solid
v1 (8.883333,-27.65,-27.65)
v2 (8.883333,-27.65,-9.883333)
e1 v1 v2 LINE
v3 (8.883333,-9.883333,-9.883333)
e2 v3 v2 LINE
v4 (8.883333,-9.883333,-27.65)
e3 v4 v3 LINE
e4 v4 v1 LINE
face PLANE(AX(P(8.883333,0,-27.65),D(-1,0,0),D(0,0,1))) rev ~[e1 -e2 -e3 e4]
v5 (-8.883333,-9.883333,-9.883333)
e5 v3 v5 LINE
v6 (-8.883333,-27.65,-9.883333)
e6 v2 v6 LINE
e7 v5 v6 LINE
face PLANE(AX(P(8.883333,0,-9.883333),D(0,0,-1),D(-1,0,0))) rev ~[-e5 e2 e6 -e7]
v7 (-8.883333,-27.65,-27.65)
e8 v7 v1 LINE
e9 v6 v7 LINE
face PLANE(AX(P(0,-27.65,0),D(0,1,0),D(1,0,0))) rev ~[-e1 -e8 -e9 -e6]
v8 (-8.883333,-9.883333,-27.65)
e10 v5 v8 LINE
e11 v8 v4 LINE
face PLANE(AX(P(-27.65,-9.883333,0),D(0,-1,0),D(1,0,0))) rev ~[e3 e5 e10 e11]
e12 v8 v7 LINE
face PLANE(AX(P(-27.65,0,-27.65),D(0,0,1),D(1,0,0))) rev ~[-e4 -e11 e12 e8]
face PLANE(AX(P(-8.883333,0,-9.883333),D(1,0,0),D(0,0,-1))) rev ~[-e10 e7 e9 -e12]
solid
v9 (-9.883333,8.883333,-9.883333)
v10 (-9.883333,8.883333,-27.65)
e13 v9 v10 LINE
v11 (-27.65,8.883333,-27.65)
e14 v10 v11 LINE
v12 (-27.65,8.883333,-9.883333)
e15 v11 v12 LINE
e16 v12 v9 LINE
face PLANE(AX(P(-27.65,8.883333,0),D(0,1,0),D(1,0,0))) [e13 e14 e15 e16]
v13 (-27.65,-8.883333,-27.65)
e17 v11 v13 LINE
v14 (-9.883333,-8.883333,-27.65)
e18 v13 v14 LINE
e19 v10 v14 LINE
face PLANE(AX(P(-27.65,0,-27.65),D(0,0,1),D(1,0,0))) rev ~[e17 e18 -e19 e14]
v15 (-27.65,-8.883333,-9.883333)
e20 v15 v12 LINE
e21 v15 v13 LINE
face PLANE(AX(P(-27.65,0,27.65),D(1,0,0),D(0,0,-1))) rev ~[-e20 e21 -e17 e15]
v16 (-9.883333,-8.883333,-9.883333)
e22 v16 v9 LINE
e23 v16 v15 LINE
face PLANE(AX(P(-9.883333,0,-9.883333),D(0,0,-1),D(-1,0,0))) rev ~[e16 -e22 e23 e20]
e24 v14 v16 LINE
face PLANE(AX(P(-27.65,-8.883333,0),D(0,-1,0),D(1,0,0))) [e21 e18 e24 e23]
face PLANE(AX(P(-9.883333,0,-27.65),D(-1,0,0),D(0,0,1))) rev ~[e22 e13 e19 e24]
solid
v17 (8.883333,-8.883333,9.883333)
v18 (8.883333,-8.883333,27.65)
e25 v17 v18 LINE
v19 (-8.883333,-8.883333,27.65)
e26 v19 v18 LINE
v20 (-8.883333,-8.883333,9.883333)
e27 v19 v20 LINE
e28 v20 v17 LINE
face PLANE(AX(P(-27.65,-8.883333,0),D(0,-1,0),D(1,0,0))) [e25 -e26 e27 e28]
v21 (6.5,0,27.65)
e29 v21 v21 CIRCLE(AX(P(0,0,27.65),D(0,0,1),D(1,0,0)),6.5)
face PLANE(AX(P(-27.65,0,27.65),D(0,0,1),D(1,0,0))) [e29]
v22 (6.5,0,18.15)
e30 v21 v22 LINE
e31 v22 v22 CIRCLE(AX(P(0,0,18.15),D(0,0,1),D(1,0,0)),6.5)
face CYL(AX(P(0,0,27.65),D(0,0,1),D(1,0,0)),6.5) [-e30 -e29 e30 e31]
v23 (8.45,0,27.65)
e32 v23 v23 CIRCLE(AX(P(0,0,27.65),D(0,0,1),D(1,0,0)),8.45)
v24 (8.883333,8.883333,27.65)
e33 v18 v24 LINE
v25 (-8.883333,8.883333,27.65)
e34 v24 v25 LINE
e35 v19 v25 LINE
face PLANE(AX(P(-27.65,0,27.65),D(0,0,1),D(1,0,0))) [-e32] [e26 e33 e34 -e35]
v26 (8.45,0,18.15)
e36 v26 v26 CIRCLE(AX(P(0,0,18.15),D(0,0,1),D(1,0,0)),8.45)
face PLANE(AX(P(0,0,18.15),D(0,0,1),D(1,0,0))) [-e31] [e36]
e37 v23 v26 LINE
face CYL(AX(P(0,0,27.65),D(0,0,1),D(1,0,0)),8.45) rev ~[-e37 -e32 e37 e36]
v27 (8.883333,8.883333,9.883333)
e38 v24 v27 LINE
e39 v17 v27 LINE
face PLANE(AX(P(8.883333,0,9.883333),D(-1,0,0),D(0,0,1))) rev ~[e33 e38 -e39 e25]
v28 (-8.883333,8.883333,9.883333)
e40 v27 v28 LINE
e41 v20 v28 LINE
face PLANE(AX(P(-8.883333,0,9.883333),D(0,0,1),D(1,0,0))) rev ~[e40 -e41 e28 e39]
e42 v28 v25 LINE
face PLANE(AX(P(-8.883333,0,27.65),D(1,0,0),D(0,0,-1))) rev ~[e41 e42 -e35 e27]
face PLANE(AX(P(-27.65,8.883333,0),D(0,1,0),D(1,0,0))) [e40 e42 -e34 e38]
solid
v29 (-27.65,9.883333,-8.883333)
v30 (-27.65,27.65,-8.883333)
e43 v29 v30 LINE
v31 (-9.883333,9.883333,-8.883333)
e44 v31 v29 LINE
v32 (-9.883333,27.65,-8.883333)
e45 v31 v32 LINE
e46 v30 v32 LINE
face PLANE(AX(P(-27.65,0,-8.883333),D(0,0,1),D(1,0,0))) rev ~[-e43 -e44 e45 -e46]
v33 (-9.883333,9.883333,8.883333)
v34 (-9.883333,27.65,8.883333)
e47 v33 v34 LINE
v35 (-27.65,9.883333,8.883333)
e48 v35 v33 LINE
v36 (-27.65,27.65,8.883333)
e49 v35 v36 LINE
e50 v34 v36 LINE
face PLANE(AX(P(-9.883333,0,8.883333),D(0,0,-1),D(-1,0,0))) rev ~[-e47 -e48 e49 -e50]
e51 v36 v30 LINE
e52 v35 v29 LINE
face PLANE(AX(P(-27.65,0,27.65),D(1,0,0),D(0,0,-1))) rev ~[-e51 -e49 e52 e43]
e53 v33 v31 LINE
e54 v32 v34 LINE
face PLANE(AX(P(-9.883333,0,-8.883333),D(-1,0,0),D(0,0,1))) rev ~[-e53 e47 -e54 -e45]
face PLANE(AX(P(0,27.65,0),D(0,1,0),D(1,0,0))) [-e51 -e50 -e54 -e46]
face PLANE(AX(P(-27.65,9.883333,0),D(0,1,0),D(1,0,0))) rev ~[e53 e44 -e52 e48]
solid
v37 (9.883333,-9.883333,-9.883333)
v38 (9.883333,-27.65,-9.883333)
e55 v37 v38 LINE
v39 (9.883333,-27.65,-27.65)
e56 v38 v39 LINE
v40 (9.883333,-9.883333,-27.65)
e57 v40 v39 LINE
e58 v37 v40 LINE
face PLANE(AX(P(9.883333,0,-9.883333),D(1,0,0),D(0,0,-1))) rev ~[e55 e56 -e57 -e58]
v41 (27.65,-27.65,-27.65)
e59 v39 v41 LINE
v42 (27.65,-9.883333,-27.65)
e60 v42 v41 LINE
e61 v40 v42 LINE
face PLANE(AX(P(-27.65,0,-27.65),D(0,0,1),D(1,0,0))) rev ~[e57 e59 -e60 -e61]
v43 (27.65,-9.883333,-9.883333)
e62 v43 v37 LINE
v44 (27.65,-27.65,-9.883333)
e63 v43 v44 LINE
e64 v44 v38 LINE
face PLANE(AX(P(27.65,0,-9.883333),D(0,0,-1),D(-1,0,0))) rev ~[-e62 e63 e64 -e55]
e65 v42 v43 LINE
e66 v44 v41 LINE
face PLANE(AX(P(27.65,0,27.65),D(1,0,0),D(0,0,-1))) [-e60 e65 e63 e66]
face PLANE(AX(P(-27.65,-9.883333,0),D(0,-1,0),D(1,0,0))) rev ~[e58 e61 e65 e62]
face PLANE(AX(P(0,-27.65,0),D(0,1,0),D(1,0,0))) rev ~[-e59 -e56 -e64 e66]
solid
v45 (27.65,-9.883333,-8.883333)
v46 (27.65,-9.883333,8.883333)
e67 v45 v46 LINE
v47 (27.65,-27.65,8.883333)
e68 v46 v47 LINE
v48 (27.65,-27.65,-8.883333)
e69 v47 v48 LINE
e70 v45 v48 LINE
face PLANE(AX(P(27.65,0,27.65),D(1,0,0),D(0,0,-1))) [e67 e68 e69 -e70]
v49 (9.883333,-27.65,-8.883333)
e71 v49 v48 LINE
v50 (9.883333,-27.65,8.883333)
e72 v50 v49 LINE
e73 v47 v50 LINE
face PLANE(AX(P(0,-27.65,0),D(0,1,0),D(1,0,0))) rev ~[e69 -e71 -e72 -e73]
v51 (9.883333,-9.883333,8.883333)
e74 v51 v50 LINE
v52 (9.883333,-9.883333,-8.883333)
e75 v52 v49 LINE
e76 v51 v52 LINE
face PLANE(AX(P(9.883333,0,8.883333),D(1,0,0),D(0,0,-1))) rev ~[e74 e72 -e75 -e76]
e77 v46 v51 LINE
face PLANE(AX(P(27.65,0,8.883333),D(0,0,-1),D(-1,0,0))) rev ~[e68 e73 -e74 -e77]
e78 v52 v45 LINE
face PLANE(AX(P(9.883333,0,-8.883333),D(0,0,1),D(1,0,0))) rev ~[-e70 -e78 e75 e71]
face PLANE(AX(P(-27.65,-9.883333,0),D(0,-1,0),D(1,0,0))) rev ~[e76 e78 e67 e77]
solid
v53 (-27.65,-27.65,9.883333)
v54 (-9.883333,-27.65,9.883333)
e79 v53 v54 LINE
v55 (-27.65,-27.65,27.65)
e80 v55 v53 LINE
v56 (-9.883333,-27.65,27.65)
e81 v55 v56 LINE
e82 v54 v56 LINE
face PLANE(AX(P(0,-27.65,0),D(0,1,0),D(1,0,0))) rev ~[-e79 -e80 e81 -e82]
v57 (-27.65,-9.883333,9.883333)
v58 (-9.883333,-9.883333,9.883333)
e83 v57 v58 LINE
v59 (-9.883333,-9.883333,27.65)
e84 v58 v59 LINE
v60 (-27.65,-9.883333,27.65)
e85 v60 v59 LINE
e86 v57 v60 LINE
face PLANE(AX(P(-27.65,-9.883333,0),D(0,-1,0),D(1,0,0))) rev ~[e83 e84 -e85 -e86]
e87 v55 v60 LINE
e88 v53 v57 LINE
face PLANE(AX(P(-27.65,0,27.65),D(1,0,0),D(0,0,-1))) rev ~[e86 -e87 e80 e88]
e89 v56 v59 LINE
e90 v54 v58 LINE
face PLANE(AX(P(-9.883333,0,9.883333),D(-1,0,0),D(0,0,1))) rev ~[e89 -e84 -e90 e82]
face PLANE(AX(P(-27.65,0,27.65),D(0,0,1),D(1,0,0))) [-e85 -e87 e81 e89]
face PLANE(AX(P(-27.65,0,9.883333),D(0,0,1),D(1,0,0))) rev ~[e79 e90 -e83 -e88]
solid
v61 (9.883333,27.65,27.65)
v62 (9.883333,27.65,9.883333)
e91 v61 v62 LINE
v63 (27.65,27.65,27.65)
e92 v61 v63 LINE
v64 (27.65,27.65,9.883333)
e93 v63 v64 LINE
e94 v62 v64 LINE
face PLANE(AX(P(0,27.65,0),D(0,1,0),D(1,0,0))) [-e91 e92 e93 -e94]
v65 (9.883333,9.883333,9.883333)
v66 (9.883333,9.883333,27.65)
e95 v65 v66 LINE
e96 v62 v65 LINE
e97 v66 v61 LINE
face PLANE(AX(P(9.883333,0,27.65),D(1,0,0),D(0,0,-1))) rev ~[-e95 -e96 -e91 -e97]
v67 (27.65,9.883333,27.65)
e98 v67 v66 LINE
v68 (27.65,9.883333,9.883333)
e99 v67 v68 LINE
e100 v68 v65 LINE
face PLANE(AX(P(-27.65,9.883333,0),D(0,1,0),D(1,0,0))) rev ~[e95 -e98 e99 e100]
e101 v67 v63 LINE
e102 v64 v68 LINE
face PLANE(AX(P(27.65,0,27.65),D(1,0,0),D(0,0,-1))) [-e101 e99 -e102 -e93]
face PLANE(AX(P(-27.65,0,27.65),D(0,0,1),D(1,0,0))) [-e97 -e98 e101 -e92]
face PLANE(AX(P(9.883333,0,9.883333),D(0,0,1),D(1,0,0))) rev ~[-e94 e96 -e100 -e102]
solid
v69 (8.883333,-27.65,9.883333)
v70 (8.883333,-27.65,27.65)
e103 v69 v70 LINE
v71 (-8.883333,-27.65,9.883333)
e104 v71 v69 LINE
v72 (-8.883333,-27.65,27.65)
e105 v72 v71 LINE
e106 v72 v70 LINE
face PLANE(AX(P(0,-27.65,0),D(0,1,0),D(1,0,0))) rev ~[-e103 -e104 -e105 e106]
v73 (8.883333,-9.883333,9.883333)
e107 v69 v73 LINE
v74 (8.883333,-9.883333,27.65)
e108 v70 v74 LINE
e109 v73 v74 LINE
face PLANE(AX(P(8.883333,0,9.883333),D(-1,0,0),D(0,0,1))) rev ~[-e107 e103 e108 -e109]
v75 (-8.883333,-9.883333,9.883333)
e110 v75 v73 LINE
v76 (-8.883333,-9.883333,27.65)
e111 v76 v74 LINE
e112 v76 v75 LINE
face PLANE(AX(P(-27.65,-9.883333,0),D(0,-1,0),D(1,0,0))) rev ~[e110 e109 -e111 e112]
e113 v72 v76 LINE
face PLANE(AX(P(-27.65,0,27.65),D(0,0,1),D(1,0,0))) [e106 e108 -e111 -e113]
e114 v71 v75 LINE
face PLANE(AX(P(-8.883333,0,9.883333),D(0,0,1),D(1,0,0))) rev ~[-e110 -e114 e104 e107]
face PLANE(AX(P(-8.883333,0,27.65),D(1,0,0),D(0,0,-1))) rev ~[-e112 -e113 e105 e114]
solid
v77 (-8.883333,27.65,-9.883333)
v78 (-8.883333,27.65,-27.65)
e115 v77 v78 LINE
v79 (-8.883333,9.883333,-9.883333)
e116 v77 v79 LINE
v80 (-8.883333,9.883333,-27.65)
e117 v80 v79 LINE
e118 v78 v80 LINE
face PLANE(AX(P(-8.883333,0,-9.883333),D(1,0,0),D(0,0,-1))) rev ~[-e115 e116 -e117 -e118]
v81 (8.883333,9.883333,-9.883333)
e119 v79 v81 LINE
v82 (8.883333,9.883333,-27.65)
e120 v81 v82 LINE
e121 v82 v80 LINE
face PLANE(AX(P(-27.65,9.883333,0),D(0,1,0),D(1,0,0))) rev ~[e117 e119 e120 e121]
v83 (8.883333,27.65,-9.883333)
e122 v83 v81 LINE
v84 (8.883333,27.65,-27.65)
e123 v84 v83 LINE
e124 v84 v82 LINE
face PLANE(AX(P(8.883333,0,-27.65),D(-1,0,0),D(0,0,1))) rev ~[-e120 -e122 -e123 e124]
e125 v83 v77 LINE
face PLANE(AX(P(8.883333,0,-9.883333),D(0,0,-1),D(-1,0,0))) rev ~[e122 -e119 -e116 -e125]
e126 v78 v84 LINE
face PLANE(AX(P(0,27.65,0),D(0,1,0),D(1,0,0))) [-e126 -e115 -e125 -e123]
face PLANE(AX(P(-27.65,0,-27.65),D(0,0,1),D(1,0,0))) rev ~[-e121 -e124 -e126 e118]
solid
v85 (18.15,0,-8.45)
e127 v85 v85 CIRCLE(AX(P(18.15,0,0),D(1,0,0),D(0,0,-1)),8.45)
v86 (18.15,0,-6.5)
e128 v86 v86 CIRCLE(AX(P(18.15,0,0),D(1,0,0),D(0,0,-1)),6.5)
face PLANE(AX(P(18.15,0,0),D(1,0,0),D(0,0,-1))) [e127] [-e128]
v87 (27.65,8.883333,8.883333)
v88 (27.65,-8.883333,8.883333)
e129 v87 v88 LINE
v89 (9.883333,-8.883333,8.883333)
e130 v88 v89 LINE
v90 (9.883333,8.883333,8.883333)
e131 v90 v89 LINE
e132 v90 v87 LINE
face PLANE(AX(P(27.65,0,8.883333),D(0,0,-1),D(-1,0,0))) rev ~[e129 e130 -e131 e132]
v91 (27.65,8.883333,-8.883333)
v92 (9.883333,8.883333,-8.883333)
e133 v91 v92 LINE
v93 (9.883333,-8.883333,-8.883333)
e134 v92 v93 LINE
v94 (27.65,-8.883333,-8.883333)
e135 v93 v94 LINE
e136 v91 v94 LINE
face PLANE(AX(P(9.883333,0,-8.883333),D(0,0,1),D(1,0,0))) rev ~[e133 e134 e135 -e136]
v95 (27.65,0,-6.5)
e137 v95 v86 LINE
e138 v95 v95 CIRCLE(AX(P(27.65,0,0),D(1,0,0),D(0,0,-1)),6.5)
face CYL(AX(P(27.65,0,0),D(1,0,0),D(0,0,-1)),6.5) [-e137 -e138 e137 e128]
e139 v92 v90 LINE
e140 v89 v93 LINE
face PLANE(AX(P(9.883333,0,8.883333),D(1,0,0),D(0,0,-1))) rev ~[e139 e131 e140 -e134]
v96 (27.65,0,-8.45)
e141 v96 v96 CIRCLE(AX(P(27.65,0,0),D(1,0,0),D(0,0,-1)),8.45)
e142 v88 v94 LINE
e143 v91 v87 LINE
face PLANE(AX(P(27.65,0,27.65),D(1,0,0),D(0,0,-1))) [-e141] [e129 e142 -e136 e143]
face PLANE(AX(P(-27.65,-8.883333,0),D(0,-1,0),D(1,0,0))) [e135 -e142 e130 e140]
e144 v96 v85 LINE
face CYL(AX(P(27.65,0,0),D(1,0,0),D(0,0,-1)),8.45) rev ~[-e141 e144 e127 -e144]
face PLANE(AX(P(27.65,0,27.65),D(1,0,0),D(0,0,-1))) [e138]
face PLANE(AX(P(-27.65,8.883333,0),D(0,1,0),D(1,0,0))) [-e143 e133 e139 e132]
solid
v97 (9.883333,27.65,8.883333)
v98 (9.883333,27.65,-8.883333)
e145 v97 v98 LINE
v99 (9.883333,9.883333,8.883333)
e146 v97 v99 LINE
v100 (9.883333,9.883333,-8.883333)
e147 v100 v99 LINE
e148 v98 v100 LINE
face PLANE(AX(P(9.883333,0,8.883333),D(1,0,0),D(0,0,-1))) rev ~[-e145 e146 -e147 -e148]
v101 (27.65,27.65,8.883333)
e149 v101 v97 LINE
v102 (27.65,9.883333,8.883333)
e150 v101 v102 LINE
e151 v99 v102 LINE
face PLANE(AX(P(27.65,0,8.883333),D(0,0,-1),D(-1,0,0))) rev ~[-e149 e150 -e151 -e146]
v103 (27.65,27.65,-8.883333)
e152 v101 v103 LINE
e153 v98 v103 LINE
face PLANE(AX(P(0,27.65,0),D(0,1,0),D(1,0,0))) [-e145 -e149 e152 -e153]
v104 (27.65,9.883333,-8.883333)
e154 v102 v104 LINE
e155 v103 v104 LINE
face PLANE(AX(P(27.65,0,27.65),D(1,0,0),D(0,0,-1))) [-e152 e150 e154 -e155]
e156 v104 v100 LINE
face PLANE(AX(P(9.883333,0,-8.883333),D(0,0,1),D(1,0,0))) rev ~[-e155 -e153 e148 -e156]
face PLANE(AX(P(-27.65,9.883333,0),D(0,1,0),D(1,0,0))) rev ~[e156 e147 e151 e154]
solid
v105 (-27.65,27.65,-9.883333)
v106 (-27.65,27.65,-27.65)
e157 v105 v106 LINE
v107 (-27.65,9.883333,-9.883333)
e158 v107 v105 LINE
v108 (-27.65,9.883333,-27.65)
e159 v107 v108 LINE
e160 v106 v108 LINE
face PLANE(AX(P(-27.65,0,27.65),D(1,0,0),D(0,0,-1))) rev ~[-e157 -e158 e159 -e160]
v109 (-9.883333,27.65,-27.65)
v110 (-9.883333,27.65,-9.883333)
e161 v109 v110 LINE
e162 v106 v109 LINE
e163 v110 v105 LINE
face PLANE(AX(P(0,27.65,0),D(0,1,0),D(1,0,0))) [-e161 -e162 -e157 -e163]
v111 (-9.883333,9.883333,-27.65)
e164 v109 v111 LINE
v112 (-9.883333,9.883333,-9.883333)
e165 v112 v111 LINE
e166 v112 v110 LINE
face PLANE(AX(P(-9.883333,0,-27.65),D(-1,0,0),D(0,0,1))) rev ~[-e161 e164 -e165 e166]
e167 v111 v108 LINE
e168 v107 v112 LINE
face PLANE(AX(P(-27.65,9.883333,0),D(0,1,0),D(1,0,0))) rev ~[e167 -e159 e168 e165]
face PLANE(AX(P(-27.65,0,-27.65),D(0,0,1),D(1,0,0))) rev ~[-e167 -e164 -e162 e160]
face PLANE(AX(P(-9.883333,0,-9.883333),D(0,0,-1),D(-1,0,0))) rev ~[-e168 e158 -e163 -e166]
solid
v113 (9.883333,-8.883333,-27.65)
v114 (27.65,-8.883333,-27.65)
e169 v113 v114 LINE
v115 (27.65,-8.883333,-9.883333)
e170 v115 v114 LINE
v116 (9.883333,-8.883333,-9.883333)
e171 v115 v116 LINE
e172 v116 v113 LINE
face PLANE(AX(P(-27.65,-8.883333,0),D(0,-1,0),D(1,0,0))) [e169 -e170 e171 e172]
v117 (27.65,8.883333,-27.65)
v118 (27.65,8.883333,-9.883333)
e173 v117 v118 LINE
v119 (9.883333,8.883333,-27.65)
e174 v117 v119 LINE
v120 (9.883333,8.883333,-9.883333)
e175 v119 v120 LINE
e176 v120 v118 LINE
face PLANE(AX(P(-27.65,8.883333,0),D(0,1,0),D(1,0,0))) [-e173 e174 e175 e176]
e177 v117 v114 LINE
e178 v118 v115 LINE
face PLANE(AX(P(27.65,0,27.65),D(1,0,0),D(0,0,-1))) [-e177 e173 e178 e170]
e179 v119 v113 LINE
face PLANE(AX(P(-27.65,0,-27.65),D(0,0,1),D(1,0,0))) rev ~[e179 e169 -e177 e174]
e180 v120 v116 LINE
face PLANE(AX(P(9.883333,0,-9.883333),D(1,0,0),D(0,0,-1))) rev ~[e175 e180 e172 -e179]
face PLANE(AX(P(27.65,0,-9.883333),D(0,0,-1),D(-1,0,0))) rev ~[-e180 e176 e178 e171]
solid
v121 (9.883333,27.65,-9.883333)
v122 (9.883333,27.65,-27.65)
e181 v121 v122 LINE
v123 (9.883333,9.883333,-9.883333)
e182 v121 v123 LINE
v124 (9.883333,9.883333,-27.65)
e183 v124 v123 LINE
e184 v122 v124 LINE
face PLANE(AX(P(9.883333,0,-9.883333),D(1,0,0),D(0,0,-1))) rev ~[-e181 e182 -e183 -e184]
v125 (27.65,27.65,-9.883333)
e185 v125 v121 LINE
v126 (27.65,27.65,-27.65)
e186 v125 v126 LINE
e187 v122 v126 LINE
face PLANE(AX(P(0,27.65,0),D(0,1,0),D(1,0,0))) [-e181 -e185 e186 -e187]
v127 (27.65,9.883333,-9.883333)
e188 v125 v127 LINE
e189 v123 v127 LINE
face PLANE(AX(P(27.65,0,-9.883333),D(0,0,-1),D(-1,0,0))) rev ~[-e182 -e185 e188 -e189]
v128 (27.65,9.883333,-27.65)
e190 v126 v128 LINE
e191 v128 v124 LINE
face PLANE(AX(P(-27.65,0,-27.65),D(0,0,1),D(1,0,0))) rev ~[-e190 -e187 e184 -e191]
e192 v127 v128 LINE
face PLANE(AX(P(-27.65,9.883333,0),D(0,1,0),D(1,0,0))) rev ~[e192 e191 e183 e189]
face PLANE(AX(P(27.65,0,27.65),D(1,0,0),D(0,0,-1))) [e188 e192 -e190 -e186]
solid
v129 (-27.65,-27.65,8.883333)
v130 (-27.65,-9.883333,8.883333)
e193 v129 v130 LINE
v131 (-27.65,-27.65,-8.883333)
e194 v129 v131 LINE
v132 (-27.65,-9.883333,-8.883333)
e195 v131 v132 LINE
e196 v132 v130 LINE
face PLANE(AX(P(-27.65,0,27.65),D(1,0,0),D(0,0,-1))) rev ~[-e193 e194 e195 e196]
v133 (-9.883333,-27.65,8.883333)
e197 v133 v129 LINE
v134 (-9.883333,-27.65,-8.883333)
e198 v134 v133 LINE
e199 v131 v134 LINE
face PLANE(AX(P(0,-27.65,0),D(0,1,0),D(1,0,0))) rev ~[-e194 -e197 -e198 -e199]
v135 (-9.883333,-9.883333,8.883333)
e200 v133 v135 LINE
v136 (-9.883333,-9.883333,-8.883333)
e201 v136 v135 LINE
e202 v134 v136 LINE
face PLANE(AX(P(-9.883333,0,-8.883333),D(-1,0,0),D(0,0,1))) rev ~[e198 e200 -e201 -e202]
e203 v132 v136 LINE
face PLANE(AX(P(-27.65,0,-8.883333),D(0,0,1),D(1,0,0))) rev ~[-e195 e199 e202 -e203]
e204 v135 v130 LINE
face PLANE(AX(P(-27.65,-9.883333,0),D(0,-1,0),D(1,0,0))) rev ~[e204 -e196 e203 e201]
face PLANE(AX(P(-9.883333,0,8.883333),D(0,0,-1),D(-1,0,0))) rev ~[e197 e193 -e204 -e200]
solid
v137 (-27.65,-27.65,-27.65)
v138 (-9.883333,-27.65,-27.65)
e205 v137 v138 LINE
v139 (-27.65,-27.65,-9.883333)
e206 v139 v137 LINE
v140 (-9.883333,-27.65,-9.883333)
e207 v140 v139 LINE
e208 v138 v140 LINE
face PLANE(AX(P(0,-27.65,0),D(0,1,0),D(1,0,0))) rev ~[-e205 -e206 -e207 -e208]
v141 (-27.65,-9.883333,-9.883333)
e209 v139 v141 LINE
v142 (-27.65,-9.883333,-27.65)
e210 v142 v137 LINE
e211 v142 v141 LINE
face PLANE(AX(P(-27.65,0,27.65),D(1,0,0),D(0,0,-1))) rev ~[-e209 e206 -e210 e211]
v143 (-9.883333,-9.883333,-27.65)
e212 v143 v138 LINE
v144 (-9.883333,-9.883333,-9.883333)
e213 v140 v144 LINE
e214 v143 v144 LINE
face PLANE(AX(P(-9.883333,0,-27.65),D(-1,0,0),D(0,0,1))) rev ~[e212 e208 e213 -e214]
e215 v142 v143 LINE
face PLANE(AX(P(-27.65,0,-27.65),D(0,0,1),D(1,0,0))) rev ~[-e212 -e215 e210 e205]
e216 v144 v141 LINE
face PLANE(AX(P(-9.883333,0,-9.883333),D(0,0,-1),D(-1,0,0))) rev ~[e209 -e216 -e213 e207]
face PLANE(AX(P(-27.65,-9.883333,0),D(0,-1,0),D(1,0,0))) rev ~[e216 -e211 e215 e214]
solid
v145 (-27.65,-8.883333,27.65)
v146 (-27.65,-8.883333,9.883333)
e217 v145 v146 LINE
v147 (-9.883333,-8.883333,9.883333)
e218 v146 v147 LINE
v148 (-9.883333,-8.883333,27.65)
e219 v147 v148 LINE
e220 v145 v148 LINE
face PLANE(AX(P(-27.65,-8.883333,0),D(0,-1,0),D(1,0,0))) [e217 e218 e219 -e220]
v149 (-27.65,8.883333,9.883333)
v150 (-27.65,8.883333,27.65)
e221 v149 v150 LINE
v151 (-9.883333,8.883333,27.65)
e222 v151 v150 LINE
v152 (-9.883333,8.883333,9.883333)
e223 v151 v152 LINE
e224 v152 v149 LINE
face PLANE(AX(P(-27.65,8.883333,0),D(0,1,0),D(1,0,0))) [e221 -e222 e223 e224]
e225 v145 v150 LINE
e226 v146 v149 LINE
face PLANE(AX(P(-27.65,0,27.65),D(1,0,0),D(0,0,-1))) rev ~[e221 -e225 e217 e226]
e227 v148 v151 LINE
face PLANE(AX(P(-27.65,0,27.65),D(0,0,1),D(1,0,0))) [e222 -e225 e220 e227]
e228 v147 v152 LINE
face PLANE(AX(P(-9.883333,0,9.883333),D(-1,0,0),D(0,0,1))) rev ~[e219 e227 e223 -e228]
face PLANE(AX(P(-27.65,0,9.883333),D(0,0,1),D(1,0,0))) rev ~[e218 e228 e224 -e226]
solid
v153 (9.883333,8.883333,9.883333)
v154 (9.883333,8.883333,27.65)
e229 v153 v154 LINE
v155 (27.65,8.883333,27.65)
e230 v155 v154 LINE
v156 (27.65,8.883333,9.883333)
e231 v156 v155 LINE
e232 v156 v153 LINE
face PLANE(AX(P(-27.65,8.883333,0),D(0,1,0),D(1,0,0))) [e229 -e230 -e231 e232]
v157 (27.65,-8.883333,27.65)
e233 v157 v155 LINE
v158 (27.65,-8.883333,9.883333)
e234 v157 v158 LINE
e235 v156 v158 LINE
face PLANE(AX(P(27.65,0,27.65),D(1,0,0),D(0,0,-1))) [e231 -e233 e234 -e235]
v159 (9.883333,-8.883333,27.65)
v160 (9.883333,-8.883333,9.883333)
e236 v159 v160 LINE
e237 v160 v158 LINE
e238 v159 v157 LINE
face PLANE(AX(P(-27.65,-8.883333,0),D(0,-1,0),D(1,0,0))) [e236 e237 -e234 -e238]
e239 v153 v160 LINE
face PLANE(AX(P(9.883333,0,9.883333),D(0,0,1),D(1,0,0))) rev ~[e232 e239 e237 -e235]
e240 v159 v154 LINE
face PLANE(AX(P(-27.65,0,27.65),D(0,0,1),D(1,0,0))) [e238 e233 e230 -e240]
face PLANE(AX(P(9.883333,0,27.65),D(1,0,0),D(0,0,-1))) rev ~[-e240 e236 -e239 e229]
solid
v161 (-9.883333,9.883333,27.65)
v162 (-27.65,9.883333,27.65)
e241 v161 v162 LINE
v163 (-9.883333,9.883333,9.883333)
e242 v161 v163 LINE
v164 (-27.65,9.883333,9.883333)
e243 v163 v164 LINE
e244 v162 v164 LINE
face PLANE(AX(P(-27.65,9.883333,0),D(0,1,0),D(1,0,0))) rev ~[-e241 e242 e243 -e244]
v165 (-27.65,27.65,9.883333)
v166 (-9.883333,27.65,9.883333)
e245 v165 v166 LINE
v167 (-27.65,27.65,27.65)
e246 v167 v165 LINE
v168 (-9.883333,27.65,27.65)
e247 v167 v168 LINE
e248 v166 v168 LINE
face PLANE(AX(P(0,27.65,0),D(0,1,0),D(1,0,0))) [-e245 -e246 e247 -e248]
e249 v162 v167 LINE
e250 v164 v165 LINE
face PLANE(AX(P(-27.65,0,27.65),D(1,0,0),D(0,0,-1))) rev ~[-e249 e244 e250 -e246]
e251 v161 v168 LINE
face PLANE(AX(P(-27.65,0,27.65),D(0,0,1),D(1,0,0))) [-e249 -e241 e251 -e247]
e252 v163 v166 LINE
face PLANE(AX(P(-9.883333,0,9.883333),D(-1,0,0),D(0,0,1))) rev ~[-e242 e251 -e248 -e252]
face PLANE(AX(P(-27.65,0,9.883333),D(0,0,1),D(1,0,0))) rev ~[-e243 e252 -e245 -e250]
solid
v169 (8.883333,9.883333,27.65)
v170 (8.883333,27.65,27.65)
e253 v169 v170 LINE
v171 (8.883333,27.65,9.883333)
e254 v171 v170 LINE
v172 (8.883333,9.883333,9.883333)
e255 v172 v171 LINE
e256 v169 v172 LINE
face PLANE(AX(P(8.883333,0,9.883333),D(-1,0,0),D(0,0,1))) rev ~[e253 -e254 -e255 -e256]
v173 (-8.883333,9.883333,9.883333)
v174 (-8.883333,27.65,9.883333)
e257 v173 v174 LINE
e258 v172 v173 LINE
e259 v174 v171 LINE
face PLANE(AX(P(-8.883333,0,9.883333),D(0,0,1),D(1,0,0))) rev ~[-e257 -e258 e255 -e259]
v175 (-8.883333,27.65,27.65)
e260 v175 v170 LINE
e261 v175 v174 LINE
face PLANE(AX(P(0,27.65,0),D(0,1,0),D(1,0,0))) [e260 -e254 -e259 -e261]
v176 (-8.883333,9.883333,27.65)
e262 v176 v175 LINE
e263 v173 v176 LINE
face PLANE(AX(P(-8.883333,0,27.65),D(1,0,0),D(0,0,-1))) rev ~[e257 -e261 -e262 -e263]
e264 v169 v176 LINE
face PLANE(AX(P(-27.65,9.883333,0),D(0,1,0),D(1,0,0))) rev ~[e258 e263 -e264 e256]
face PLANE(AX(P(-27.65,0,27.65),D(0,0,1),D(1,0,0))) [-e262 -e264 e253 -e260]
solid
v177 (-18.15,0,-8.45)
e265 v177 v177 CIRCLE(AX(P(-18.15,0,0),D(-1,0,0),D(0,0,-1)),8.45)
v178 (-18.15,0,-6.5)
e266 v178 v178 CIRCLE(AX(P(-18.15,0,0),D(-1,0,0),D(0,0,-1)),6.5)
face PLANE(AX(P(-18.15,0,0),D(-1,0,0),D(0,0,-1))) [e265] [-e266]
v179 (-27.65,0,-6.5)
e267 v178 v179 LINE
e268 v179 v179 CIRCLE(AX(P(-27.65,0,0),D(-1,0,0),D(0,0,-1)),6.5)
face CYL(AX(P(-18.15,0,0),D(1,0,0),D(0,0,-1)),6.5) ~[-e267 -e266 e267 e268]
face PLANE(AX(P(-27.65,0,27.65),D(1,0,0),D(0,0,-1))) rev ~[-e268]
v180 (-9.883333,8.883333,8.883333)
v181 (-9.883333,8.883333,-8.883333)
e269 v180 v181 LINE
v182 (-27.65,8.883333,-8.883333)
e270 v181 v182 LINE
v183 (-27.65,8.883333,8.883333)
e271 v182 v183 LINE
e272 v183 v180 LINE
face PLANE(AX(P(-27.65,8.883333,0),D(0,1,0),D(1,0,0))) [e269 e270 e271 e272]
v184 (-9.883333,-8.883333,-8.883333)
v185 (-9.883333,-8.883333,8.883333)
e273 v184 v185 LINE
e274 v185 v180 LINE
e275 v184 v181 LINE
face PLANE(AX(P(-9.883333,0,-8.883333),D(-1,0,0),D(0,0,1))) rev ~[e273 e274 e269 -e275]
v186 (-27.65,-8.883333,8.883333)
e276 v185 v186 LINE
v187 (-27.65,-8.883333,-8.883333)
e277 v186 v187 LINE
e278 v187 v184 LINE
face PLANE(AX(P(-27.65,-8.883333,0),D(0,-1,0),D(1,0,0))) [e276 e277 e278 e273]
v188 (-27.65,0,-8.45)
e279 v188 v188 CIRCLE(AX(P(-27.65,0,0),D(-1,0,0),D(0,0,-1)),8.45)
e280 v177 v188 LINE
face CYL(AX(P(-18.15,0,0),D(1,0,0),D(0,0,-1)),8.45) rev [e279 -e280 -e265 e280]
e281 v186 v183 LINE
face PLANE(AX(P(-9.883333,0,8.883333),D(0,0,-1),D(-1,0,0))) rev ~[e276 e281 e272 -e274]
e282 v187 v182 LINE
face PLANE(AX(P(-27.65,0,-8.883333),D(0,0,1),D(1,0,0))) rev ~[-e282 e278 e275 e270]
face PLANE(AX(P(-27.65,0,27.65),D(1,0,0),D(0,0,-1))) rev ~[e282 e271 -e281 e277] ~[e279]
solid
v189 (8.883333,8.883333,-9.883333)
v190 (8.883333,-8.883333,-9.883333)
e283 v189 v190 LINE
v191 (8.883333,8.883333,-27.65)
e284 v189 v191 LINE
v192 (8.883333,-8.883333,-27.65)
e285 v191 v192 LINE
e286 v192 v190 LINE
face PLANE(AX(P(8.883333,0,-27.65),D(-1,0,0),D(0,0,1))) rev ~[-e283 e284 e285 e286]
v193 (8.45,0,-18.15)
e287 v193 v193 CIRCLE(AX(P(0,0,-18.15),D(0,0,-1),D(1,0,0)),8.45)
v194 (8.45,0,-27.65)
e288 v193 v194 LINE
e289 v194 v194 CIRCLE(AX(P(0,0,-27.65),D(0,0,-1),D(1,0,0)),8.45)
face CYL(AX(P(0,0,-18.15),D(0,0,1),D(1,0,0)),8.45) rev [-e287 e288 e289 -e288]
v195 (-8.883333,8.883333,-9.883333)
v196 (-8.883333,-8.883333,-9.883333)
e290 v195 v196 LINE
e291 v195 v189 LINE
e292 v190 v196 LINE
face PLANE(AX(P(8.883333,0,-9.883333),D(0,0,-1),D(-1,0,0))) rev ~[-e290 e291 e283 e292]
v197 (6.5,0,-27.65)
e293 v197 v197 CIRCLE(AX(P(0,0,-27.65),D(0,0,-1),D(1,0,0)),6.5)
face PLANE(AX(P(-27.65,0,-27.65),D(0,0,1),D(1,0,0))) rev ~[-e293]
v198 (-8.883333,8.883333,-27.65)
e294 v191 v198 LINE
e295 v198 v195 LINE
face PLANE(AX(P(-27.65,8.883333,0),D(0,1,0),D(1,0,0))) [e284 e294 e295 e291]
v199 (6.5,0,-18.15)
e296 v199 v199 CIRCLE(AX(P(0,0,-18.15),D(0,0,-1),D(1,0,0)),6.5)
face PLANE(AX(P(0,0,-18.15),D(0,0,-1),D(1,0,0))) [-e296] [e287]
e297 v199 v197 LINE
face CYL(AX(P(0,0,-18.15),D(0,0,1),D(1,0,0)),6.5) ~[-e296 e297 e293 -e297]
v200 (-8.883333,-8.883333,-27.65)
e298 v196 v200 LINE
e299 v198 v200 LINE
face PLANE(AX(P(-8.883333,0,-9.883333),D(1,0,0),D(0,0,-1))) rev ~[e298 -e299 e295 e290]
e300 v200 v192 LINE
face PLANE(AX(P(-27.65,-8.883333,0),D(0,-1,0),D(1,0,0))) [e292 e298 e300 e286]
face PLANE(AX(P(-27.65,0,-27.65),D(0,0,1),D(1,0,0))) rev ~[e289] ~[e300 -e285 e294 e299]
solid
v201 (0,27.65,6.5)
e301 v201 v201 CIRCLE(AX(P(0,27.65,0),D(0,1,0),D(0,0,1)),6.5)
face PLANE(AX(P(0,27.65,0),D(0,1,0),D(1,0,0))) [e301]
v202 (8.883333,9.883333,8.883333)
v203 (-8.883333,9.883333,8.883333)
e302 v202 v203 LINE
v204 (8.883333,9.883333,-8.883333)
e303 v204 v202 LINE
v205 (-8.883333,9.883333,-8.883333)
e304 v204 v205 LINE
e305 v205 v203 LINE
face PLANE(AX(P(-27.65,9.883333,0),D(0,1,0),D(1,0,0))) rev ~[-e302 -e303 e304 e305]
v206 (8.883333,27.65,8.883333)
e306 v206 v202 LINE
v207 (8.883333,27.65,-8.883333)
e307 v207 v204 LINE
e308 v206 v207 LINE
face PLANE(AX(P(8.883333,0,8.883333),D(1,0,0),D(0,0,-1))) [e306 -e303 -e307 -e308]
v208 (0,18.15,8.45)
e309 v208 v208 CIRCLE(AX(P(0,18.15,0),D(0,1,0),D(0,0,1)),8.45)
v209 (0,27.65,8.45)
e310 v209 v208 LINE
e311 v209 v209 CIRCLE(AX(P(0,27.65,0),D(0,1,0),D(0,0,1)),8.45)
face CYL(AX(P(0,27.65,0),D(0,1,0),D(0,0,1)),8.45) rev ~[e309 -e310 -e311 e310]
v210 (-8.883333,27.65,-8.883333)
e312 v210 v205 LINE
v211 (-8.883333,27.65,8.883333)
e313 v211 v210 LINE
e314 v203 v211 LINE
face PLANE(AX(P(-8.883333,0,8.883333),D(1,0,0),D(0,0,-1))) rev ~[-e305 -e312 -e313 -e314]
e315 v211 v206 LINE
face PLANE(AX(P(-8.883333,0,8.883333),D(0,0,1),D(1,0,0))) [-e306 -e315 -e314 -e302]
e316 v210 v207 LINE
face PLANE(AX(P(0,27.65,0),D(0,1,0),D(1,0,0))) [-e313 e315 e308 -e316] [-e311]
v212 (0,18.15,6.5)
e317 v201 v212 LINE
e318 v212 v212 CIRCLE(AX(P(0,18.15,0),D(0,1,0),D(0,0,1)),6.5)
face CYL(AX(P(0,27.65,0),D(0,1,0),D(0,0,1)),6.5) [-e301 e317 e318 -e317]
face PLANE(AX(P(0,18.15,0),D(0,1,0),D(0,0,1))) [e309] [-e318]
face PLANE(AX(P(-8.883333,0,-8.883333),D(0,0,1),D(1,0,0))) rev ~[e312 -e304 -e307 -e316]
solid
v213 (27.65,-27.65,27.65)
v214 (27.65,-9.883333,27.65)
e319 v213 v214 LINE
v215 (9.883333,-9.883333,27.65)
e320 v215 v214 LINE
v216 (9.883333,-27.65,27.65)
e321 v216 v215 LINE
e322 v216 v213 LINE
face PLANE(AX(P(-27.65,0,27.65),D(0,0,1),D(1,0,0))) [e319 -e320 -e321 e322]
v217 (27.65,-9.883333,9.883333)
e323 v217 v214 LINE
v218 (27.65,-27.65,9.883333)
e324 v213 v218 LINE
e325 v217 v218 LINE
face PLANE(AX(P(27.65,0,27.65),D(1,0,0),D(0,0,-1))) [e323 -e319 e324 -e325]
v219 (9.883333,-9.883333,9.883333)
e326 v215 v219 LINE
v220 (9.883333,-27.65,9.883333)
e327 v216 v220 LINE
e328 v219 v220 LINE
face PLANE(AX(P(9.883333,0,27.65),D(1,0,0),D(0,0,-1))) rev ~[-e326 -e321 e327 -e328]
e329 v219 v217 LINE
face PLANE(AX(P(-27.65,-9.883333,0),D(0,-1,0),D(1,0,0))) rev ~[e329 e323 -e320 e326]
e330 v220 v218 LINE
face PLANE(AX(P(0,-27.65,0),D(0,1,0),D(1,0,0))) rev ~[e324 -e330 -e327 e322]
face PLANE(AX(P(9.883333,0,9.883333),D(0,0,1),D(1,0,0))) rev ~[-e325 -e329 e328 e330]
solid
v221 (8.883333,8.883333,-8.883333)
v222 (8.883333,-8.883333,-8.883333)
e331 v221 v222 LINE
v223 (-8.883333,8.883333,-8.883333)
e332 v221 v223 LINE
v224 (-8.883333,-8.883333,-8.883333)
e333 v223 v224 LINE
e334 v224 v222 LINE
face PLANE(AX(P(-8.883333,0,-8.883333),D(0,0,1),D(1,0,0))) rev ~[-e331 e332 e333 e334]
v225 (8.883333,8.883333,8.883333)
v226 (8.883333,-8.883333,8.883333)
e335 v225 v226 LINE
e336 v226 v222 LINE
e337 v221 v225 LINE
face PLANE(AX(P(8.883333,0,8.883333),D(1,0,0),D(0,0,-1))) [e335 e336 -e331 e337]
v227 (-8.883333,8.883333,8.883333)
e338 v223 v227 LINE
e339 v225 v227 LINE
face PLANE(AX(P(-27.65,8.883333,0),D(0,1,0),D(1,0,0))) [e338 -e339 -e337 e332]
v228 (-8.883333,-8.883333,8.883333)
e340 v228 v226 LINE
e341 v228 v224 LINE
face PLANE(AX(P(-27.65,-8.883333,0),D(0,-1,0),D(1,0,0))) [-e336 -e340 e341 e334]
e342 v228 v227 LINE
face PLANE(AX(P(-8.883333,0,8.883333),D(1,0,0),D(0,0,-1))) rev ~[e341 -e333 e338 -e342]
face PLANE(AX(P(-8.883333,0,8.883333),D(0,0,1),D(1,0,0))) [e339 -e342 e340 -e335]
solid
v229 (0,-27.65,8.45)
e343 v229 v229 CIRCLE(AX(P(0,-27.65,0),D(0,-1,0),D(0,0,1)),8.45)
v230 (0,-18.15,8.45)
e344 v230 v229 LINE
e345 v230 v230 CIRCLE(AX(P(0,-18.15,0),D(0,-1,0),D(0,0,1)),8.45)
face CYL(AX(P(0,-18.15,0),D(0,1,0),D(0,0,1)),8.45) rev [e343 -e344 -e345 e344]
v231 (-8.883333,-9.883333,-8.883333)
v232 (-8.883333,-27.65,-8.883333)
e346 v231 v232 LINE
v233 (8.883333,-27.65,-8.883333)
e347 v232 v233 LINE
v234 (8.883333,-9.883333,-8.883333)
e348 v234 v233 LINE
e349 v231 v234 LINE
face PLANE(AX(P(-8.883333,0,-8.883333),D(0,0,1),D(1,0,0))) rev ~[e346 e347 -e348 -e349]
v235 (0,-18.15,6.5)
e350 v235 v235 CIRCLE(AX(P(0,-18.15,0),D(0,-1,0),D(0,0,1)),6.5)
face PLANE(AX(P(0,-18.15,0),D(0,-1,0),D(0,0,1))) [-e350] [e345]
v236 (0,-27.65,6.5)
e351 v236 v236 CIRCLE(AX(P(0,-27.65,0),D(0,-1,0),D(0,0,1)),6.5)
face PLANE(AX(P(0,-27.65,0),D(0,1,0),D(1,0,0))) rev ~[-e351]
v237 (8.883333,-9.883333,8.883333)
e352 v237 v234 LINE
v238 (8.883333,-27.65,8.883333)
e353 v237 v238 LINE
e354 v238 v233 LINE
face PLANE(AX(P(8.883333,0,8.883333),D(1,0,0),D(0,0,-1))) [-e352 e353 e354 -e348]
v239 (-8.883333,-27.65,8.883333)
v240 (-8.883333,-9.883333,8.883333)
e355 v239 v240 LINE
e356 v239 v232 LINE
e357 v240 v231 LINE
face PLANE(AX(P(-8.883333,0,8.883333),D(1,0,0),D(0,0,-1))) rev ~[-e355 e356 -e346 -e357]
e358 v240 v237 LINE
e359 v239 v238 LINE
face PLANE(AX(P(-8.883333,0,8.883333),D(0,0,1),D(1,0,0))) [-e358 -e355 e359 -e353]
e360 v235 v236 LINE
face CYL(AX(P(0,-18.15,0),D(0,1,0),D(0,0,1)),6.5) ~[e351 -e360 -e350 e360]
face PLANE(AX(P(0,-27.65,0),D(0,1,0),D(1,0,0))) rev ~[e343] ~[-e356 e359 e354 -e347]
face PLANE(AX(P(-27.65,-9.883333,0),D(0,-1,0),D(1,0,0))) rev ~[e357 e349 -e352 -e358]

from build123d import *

# Parameters (mm, degrees)
SKETCH1_W           = 55.3
SKETCH1_H           = 55.3
BOSS_EXTRUDE1_DEPTH = 27.65
SKETCH2_R           = 8.45
SKETCH2_R_2         = 6.5
CUT_EXTRUDE2_DEPTH  = 9.5
CUT_EXTRUDE3_START  = -9.5
SKETCH3_R           = 8.45
SKETCH3_R_2         = 6.5
CUT_EXTRUDE3_DEPTH  = 9.5
SKETCH4_R           = 8.45
SKETCH4_R_2         = 6.5
CUT_EXTRUDE4_DEPTH  = 9.5
CUT_EXTRUDE5_START  = -9.5
SKETCH5_R           = 8.45
SKETCH5_R_2         = 6.5
CUT_EXTRUDE5_DEPTH  = 9.5
SKETCH6_R           = 8.45
SKETCH6_R_2         = 6.5
CUT_EXTRUDE6_DEPTH  = 9.5
CUT_EXTRUDE7_START  = -9.5
SKETCH7_R           = 8.45
SKETCH7_R_2         = 6.5
CUT_EXTRUDE7_DEPTH  = 9.5
SKETCH8_W           = 17.76666667
SKETCH8_H           = 17.76666667
CUT_EXTRUDE8_DEPTH  = 30
SKETCH10_W          = 55.3
SKETCH10_H          = 1
CUT_EXTRUDE9_DEPTH  = 60


with BuildPart() as part:
    # Sketch1 → Boss-Extrude1 (new, symmetric)
    with BuildSketch(Plane(origin=(0, 0, 0), x_dir=(1, 0, 0), z_dir=(0, 1, 0))):
        Rectangle(SKETCH1_W, SKETCH1_H)
    extrude(amount=BOSS_EXTRUDE1_DEPTH, both=True)

    # Sketch2 → Cut-Extrude2 (cut)
    with BuildSketch(Plane(origin=(0, 27.65, 0), x_dir=(1, 0, 0), z_dir=(0, 1, 0))):
        with Locations(Location((0, 0, 0), (0, 0, 270))):
            Circle(SKETCH2_R)
        with Locations(Location((0, 0, 0), (0, 0, 270))):
            Circle(SKETCH2_R_2, mode=Mode.SUBTRACT)
    extrude(amount=-CUT_EXTRUDE2_DEPTH, mode=Mode.SUBTRACT)

    # Sketch3 → Cut-Extrude3 (cut)
    with BuildSketch(Plane.XZ.offset(27.65).offset(CUT_EXTRUDE3_START)):
        with Locations(Location((0, 0, 0), (0, 0, 90))):
            Circle(SKETCH3_R)
        with Locations(Location((0, 0, 0), (0, 0, 90))):
            Circle(SKETCH3_R_2, mode=Mode.SUBTRACT)
    extrude(amount=CUT_EXTRUDE3_DEPTH, mode=Mode.SUBTRACT)

    # Sketch4 → Cut-Extrude4 (cut)
    with BuildSketch(Plane(origin=(27.65, 0, 0), x_dir=(0, 0, -1), z_dir=(1, 0, 0))):
        Circle(SKETCH4_R)
        Circle(SKETCH4_R_2, mode=Mode.SUBTRACT)
    extrude(amount=-CUT_EXTRUDE4_DEPTH, mode=Mode.SUBTRACT)

    # Sketch5 → Cut-Extrude5 (cut)
    with BuildSketch(Plane.ZY.offset(27.65).offset(CUT_EXTRUDE5_START)):
        with Locations(Location((0, 0, 0), (0, 0, 180))):
            Circle(SKETCH5_R)
        with Locations(Location((0, 0, 0), (0, 0, 180))):
            Circle(SKETCH5_R_2, mode=Mode.SUBTRACT)
    extrude(amount=CUT_EXTRUDE5_DEPTH, mode=Mode.SUBTRACT)

    # Sketch6 → Cut-Extrude6 (cut)
    with BuildSketch(Plane.XY.offset(27.65)):
        Circle(SKETCH6_R)
        Circle(SKETCH6_R_2, mode=Mode.SUBTRACT)
    extrude(amount=-CUT_EXTRUDE6_DEPTH, mode=Mode.SUBTRACT)

    # Sketch7 → Cut-Extrude7 (cut)
    with BuildSketch(Plane(origin=(0, 0, -27.65), x_dir=(-1, 0, 0), z_dir=(0, 0, -1)).offset(CUT_EXTRUDE7_START)):
        with Locations(Location((0, 0, 0), (0, 0, 180))):
            Circle(SKETCH7_R)
        with Locations(Location((0, 0, 0), (0, 0, 180))):
            Circle(SKETCH7_R_2, mode=Mode.SUBTRACT)
    extrude(amount=CUT_EXTRUDE7_DEPTH, mode=Mode.SUBTRACT)

    # Sketch8 → Cut-Extrude8 (cut, symmetric)
    with BuildSketch(Plane(origin=(0, 0, 0), x_dir=(1, 0, 0), z_dir=(0, 1, 0))):
        Polygon((-9.88333333, 27.65), (-9.88333333, 9.883333333), (-27.65, 9.883333333), (-27.65, 8.883333333), (-9.88333334, 8.883333333), (-9.88333334, -8.883333337), (-27.65, -8.883333337), (-27.65, -9.883333337), (-9.88333334, -9.883333337), (-9.88333334, -27.650000007), (-8.88333334, -27.65), (-8.88333334, -9.883333337), (8.88333333, -9.883333337), (8.88333333, -27.65), (9.88333333, -27.65), (9.88333333, -9.883333337), (27.65, -9.883333337), (27.65, -8.883333337), (9.88333333, -8.883333337), (9.88333333, 8.883333333), (27.65, 8.883333333), (27.65, 9.883333333), (9.88333334, 9.883333333), (9.88333334, 27.65), (8.88333334, 27.65), (8.88333334, 9.883333333), (-8.88333333, 9.883333333), (-8.88333333, 27.65), align=None)
        with Locations((-5e-09, -2e-09)):
            Rectangle(SKETCH8_W, SKETCH8_H, mode=Mode.SUBTRACT)
    extrude(amount=CUT_EXTRUDE8_DEPTH, both=True, mode=Mode.SUBTRACT)


with BuildPart() as cut_extrude8_piece_1:
    # of the separate pieces the step leaves, piece 1, a body of its own (cut_extrude8_pieces)
    add(part.part.solids().sort_by_distance((-27.65, -27.65, -27.65))[0])


with BuildPart() as cut_extrude8_piece_2:
    # of the separate pieces the step leaves, piece 2, a body of its own (cut_extrude8_pieces)
    add(part.part.solids().sort_by_distance((27.65, 27.65, 9.883333337))[0])


with BuildPart() as cut_extrude8_piece_3:
    # of the separate pieces the step leaves, piece 3, a body of its own (cut_extrude8_pieces)
    add(part.part.solids().sort_by_distance((9.88333334, 27.65, -27.65))[0])


with BuildPart() as cut_extrude8_piece_4:
    # of the separate pieces the step leaves, piece 4, a body of its own (cut_extrude8_pieces)
    add(part.part.solids().sort_by_distance((-27.65, 27.65, 27.65))[0])


with BuildPart() as cut_extrude8_piece_5:
    # of the separate pieces the step leaves, piece 5, a body of its own (cut_extrude8_pieces)
    add(part.part.solids().sort_by_distance((27.65, 27.65, -8.883333333))[0])


with BuildPart() as cut_extrude8_piece_6:
    # of the separate pieces the step leaves, piece 6, a body of its own (cut_extrude8_pieces)
    add(part.part.solids().sort_by_distance((-8.88333333, 27.65, -27.65))[0])


with BuildPart() as cut_extrude8_piece_7:
    # of the separate pieces the step leaves, piece 7, a body of its own (cut_extrude8_pieces)
    add(part.part.solids().sort_by_distance((8.88333333, 27.65, 27.65))[0])


with BuildPart() as cut_extrude8_piece_8:
    # of the separate pieces the step leaves, piece 8, a body of its own (cut_extrude8_pieces)
    add(part.part.solids().sort_by_distance((-27.65, -27.65, 8.883333337))[0])


with BuildPart() as cut_extrude8_piece_9:
    # of the separate pieces the step leaves, piece 9, a body of its own (cut_extrude8_pieces)
    add(part.part.solids().sort_by_distance((-8.88333334, 27.65, -8.883333333))[0])


with BuildPart() as cut_extrude9_tool:
    # Sketch10 → Cut-Extrude9 (new, symmetric)
    with BuildSketch(Plane.XY):
        with Locations((0, 9.38333333)):
            Rectangle(SKETCH10_W, SKETCH10_H)
        with Locations((0, -9.38333334)):
            Rectangle(SKETCH10_W, SKETCH10_H)
    extrude(amount=CUT_EXTRUDE9_DEPTH, both=True)


with BuildPart() as cut_extrude8_piece_1_1:
    add(cut_extrude8_piece_1.part)

    # Cut-Extrude9: cut by cut_extrude9_tool
    add(cut_extrude9_tool.part, mode=Mode.SUBTRACT)


with BuildPart() as cut_extrude8_piece_2_1:
    add(cut_extrude8_piece_2.part)

    # Cut-Extrude9: cut by cut_extrude9_tool
    add(cut_extrude9_tool.part, mode=Mode.SUBTRACT)


with BuildPart() as cut_extrude8_piece_3_1:
    add(cut_extrude8_piece_3.part)

    # Cut-Extrude9: cut by cut_extrude9_tool
    add(cut_extrude9_tool.part, mode=Mode.SUBTRACT)


with BuildPart() as cut_extrude8_piece_4_1:
    add(cut_extrude8_piece_4.part)

    # Cut-Extrude9: cut by cut_extrude9_tool
    add(cut_extrude9_tool.part, mode=Mode.SUBTRACT)


with BuildPart() as cut_extrude8_piece_5_1:
    add(cut_extrude8_piece_5.part)

    # Cut-Extrude9: cut by cut_extrude9_tool
    add(cut_extrude9_tool.part, mode=Mode.SUBTRACT)


with BuildPart() as cut_extrude8_piece_6_1:
    add(cut_extrude8_piece_6.part)

    # Cut-Extrude9: cut by cut_extrude9_tool
    add(cut_extrude9_tool.part, mode=Mode.SUBTRACT)


with BuildPart() as cut_extrude8_piece_7_1:
    add(cut_extrude8_piece_7.part)

    # Cut-Extrude9: cut by cut_extrude9_tool
    add(cut_extrude9_tool.part, mode=Mode.SUBTRACT)


with BuildPart() as cut_extrude8_piece_8_1:
    add(cut_extrude8_piece_8.part)

    # Cut-Extrude9: cut by cut_extrude9_tool
    add(cut_extrude9_tool.part, mode=Mode.SUBTRACT)


with BuildPart() as cut_extrude8_piece_9_1:
    add(cut_extrude8_piece_9.part)

    # Cut-Extrude9: cut by cut_extrude9_tool
    add(cut_extrude9_tool.part, mode=Mode.SUBTRACT)


solid = Compound([cut_extrude8_piece_1_1.part, cut_extrude8_piece_2_1.part, cut_extrude8_piece_3_1.part, cut_extrude8_piece_4_1.part, cut_extrude8_piece_5_1.part, cut_extrude8_piece_6_1.part, cut_extrude8_piece_7_1.part, cut_extrude8_piece_8_1.part, cut_extrude8_piece_9_1.part])
